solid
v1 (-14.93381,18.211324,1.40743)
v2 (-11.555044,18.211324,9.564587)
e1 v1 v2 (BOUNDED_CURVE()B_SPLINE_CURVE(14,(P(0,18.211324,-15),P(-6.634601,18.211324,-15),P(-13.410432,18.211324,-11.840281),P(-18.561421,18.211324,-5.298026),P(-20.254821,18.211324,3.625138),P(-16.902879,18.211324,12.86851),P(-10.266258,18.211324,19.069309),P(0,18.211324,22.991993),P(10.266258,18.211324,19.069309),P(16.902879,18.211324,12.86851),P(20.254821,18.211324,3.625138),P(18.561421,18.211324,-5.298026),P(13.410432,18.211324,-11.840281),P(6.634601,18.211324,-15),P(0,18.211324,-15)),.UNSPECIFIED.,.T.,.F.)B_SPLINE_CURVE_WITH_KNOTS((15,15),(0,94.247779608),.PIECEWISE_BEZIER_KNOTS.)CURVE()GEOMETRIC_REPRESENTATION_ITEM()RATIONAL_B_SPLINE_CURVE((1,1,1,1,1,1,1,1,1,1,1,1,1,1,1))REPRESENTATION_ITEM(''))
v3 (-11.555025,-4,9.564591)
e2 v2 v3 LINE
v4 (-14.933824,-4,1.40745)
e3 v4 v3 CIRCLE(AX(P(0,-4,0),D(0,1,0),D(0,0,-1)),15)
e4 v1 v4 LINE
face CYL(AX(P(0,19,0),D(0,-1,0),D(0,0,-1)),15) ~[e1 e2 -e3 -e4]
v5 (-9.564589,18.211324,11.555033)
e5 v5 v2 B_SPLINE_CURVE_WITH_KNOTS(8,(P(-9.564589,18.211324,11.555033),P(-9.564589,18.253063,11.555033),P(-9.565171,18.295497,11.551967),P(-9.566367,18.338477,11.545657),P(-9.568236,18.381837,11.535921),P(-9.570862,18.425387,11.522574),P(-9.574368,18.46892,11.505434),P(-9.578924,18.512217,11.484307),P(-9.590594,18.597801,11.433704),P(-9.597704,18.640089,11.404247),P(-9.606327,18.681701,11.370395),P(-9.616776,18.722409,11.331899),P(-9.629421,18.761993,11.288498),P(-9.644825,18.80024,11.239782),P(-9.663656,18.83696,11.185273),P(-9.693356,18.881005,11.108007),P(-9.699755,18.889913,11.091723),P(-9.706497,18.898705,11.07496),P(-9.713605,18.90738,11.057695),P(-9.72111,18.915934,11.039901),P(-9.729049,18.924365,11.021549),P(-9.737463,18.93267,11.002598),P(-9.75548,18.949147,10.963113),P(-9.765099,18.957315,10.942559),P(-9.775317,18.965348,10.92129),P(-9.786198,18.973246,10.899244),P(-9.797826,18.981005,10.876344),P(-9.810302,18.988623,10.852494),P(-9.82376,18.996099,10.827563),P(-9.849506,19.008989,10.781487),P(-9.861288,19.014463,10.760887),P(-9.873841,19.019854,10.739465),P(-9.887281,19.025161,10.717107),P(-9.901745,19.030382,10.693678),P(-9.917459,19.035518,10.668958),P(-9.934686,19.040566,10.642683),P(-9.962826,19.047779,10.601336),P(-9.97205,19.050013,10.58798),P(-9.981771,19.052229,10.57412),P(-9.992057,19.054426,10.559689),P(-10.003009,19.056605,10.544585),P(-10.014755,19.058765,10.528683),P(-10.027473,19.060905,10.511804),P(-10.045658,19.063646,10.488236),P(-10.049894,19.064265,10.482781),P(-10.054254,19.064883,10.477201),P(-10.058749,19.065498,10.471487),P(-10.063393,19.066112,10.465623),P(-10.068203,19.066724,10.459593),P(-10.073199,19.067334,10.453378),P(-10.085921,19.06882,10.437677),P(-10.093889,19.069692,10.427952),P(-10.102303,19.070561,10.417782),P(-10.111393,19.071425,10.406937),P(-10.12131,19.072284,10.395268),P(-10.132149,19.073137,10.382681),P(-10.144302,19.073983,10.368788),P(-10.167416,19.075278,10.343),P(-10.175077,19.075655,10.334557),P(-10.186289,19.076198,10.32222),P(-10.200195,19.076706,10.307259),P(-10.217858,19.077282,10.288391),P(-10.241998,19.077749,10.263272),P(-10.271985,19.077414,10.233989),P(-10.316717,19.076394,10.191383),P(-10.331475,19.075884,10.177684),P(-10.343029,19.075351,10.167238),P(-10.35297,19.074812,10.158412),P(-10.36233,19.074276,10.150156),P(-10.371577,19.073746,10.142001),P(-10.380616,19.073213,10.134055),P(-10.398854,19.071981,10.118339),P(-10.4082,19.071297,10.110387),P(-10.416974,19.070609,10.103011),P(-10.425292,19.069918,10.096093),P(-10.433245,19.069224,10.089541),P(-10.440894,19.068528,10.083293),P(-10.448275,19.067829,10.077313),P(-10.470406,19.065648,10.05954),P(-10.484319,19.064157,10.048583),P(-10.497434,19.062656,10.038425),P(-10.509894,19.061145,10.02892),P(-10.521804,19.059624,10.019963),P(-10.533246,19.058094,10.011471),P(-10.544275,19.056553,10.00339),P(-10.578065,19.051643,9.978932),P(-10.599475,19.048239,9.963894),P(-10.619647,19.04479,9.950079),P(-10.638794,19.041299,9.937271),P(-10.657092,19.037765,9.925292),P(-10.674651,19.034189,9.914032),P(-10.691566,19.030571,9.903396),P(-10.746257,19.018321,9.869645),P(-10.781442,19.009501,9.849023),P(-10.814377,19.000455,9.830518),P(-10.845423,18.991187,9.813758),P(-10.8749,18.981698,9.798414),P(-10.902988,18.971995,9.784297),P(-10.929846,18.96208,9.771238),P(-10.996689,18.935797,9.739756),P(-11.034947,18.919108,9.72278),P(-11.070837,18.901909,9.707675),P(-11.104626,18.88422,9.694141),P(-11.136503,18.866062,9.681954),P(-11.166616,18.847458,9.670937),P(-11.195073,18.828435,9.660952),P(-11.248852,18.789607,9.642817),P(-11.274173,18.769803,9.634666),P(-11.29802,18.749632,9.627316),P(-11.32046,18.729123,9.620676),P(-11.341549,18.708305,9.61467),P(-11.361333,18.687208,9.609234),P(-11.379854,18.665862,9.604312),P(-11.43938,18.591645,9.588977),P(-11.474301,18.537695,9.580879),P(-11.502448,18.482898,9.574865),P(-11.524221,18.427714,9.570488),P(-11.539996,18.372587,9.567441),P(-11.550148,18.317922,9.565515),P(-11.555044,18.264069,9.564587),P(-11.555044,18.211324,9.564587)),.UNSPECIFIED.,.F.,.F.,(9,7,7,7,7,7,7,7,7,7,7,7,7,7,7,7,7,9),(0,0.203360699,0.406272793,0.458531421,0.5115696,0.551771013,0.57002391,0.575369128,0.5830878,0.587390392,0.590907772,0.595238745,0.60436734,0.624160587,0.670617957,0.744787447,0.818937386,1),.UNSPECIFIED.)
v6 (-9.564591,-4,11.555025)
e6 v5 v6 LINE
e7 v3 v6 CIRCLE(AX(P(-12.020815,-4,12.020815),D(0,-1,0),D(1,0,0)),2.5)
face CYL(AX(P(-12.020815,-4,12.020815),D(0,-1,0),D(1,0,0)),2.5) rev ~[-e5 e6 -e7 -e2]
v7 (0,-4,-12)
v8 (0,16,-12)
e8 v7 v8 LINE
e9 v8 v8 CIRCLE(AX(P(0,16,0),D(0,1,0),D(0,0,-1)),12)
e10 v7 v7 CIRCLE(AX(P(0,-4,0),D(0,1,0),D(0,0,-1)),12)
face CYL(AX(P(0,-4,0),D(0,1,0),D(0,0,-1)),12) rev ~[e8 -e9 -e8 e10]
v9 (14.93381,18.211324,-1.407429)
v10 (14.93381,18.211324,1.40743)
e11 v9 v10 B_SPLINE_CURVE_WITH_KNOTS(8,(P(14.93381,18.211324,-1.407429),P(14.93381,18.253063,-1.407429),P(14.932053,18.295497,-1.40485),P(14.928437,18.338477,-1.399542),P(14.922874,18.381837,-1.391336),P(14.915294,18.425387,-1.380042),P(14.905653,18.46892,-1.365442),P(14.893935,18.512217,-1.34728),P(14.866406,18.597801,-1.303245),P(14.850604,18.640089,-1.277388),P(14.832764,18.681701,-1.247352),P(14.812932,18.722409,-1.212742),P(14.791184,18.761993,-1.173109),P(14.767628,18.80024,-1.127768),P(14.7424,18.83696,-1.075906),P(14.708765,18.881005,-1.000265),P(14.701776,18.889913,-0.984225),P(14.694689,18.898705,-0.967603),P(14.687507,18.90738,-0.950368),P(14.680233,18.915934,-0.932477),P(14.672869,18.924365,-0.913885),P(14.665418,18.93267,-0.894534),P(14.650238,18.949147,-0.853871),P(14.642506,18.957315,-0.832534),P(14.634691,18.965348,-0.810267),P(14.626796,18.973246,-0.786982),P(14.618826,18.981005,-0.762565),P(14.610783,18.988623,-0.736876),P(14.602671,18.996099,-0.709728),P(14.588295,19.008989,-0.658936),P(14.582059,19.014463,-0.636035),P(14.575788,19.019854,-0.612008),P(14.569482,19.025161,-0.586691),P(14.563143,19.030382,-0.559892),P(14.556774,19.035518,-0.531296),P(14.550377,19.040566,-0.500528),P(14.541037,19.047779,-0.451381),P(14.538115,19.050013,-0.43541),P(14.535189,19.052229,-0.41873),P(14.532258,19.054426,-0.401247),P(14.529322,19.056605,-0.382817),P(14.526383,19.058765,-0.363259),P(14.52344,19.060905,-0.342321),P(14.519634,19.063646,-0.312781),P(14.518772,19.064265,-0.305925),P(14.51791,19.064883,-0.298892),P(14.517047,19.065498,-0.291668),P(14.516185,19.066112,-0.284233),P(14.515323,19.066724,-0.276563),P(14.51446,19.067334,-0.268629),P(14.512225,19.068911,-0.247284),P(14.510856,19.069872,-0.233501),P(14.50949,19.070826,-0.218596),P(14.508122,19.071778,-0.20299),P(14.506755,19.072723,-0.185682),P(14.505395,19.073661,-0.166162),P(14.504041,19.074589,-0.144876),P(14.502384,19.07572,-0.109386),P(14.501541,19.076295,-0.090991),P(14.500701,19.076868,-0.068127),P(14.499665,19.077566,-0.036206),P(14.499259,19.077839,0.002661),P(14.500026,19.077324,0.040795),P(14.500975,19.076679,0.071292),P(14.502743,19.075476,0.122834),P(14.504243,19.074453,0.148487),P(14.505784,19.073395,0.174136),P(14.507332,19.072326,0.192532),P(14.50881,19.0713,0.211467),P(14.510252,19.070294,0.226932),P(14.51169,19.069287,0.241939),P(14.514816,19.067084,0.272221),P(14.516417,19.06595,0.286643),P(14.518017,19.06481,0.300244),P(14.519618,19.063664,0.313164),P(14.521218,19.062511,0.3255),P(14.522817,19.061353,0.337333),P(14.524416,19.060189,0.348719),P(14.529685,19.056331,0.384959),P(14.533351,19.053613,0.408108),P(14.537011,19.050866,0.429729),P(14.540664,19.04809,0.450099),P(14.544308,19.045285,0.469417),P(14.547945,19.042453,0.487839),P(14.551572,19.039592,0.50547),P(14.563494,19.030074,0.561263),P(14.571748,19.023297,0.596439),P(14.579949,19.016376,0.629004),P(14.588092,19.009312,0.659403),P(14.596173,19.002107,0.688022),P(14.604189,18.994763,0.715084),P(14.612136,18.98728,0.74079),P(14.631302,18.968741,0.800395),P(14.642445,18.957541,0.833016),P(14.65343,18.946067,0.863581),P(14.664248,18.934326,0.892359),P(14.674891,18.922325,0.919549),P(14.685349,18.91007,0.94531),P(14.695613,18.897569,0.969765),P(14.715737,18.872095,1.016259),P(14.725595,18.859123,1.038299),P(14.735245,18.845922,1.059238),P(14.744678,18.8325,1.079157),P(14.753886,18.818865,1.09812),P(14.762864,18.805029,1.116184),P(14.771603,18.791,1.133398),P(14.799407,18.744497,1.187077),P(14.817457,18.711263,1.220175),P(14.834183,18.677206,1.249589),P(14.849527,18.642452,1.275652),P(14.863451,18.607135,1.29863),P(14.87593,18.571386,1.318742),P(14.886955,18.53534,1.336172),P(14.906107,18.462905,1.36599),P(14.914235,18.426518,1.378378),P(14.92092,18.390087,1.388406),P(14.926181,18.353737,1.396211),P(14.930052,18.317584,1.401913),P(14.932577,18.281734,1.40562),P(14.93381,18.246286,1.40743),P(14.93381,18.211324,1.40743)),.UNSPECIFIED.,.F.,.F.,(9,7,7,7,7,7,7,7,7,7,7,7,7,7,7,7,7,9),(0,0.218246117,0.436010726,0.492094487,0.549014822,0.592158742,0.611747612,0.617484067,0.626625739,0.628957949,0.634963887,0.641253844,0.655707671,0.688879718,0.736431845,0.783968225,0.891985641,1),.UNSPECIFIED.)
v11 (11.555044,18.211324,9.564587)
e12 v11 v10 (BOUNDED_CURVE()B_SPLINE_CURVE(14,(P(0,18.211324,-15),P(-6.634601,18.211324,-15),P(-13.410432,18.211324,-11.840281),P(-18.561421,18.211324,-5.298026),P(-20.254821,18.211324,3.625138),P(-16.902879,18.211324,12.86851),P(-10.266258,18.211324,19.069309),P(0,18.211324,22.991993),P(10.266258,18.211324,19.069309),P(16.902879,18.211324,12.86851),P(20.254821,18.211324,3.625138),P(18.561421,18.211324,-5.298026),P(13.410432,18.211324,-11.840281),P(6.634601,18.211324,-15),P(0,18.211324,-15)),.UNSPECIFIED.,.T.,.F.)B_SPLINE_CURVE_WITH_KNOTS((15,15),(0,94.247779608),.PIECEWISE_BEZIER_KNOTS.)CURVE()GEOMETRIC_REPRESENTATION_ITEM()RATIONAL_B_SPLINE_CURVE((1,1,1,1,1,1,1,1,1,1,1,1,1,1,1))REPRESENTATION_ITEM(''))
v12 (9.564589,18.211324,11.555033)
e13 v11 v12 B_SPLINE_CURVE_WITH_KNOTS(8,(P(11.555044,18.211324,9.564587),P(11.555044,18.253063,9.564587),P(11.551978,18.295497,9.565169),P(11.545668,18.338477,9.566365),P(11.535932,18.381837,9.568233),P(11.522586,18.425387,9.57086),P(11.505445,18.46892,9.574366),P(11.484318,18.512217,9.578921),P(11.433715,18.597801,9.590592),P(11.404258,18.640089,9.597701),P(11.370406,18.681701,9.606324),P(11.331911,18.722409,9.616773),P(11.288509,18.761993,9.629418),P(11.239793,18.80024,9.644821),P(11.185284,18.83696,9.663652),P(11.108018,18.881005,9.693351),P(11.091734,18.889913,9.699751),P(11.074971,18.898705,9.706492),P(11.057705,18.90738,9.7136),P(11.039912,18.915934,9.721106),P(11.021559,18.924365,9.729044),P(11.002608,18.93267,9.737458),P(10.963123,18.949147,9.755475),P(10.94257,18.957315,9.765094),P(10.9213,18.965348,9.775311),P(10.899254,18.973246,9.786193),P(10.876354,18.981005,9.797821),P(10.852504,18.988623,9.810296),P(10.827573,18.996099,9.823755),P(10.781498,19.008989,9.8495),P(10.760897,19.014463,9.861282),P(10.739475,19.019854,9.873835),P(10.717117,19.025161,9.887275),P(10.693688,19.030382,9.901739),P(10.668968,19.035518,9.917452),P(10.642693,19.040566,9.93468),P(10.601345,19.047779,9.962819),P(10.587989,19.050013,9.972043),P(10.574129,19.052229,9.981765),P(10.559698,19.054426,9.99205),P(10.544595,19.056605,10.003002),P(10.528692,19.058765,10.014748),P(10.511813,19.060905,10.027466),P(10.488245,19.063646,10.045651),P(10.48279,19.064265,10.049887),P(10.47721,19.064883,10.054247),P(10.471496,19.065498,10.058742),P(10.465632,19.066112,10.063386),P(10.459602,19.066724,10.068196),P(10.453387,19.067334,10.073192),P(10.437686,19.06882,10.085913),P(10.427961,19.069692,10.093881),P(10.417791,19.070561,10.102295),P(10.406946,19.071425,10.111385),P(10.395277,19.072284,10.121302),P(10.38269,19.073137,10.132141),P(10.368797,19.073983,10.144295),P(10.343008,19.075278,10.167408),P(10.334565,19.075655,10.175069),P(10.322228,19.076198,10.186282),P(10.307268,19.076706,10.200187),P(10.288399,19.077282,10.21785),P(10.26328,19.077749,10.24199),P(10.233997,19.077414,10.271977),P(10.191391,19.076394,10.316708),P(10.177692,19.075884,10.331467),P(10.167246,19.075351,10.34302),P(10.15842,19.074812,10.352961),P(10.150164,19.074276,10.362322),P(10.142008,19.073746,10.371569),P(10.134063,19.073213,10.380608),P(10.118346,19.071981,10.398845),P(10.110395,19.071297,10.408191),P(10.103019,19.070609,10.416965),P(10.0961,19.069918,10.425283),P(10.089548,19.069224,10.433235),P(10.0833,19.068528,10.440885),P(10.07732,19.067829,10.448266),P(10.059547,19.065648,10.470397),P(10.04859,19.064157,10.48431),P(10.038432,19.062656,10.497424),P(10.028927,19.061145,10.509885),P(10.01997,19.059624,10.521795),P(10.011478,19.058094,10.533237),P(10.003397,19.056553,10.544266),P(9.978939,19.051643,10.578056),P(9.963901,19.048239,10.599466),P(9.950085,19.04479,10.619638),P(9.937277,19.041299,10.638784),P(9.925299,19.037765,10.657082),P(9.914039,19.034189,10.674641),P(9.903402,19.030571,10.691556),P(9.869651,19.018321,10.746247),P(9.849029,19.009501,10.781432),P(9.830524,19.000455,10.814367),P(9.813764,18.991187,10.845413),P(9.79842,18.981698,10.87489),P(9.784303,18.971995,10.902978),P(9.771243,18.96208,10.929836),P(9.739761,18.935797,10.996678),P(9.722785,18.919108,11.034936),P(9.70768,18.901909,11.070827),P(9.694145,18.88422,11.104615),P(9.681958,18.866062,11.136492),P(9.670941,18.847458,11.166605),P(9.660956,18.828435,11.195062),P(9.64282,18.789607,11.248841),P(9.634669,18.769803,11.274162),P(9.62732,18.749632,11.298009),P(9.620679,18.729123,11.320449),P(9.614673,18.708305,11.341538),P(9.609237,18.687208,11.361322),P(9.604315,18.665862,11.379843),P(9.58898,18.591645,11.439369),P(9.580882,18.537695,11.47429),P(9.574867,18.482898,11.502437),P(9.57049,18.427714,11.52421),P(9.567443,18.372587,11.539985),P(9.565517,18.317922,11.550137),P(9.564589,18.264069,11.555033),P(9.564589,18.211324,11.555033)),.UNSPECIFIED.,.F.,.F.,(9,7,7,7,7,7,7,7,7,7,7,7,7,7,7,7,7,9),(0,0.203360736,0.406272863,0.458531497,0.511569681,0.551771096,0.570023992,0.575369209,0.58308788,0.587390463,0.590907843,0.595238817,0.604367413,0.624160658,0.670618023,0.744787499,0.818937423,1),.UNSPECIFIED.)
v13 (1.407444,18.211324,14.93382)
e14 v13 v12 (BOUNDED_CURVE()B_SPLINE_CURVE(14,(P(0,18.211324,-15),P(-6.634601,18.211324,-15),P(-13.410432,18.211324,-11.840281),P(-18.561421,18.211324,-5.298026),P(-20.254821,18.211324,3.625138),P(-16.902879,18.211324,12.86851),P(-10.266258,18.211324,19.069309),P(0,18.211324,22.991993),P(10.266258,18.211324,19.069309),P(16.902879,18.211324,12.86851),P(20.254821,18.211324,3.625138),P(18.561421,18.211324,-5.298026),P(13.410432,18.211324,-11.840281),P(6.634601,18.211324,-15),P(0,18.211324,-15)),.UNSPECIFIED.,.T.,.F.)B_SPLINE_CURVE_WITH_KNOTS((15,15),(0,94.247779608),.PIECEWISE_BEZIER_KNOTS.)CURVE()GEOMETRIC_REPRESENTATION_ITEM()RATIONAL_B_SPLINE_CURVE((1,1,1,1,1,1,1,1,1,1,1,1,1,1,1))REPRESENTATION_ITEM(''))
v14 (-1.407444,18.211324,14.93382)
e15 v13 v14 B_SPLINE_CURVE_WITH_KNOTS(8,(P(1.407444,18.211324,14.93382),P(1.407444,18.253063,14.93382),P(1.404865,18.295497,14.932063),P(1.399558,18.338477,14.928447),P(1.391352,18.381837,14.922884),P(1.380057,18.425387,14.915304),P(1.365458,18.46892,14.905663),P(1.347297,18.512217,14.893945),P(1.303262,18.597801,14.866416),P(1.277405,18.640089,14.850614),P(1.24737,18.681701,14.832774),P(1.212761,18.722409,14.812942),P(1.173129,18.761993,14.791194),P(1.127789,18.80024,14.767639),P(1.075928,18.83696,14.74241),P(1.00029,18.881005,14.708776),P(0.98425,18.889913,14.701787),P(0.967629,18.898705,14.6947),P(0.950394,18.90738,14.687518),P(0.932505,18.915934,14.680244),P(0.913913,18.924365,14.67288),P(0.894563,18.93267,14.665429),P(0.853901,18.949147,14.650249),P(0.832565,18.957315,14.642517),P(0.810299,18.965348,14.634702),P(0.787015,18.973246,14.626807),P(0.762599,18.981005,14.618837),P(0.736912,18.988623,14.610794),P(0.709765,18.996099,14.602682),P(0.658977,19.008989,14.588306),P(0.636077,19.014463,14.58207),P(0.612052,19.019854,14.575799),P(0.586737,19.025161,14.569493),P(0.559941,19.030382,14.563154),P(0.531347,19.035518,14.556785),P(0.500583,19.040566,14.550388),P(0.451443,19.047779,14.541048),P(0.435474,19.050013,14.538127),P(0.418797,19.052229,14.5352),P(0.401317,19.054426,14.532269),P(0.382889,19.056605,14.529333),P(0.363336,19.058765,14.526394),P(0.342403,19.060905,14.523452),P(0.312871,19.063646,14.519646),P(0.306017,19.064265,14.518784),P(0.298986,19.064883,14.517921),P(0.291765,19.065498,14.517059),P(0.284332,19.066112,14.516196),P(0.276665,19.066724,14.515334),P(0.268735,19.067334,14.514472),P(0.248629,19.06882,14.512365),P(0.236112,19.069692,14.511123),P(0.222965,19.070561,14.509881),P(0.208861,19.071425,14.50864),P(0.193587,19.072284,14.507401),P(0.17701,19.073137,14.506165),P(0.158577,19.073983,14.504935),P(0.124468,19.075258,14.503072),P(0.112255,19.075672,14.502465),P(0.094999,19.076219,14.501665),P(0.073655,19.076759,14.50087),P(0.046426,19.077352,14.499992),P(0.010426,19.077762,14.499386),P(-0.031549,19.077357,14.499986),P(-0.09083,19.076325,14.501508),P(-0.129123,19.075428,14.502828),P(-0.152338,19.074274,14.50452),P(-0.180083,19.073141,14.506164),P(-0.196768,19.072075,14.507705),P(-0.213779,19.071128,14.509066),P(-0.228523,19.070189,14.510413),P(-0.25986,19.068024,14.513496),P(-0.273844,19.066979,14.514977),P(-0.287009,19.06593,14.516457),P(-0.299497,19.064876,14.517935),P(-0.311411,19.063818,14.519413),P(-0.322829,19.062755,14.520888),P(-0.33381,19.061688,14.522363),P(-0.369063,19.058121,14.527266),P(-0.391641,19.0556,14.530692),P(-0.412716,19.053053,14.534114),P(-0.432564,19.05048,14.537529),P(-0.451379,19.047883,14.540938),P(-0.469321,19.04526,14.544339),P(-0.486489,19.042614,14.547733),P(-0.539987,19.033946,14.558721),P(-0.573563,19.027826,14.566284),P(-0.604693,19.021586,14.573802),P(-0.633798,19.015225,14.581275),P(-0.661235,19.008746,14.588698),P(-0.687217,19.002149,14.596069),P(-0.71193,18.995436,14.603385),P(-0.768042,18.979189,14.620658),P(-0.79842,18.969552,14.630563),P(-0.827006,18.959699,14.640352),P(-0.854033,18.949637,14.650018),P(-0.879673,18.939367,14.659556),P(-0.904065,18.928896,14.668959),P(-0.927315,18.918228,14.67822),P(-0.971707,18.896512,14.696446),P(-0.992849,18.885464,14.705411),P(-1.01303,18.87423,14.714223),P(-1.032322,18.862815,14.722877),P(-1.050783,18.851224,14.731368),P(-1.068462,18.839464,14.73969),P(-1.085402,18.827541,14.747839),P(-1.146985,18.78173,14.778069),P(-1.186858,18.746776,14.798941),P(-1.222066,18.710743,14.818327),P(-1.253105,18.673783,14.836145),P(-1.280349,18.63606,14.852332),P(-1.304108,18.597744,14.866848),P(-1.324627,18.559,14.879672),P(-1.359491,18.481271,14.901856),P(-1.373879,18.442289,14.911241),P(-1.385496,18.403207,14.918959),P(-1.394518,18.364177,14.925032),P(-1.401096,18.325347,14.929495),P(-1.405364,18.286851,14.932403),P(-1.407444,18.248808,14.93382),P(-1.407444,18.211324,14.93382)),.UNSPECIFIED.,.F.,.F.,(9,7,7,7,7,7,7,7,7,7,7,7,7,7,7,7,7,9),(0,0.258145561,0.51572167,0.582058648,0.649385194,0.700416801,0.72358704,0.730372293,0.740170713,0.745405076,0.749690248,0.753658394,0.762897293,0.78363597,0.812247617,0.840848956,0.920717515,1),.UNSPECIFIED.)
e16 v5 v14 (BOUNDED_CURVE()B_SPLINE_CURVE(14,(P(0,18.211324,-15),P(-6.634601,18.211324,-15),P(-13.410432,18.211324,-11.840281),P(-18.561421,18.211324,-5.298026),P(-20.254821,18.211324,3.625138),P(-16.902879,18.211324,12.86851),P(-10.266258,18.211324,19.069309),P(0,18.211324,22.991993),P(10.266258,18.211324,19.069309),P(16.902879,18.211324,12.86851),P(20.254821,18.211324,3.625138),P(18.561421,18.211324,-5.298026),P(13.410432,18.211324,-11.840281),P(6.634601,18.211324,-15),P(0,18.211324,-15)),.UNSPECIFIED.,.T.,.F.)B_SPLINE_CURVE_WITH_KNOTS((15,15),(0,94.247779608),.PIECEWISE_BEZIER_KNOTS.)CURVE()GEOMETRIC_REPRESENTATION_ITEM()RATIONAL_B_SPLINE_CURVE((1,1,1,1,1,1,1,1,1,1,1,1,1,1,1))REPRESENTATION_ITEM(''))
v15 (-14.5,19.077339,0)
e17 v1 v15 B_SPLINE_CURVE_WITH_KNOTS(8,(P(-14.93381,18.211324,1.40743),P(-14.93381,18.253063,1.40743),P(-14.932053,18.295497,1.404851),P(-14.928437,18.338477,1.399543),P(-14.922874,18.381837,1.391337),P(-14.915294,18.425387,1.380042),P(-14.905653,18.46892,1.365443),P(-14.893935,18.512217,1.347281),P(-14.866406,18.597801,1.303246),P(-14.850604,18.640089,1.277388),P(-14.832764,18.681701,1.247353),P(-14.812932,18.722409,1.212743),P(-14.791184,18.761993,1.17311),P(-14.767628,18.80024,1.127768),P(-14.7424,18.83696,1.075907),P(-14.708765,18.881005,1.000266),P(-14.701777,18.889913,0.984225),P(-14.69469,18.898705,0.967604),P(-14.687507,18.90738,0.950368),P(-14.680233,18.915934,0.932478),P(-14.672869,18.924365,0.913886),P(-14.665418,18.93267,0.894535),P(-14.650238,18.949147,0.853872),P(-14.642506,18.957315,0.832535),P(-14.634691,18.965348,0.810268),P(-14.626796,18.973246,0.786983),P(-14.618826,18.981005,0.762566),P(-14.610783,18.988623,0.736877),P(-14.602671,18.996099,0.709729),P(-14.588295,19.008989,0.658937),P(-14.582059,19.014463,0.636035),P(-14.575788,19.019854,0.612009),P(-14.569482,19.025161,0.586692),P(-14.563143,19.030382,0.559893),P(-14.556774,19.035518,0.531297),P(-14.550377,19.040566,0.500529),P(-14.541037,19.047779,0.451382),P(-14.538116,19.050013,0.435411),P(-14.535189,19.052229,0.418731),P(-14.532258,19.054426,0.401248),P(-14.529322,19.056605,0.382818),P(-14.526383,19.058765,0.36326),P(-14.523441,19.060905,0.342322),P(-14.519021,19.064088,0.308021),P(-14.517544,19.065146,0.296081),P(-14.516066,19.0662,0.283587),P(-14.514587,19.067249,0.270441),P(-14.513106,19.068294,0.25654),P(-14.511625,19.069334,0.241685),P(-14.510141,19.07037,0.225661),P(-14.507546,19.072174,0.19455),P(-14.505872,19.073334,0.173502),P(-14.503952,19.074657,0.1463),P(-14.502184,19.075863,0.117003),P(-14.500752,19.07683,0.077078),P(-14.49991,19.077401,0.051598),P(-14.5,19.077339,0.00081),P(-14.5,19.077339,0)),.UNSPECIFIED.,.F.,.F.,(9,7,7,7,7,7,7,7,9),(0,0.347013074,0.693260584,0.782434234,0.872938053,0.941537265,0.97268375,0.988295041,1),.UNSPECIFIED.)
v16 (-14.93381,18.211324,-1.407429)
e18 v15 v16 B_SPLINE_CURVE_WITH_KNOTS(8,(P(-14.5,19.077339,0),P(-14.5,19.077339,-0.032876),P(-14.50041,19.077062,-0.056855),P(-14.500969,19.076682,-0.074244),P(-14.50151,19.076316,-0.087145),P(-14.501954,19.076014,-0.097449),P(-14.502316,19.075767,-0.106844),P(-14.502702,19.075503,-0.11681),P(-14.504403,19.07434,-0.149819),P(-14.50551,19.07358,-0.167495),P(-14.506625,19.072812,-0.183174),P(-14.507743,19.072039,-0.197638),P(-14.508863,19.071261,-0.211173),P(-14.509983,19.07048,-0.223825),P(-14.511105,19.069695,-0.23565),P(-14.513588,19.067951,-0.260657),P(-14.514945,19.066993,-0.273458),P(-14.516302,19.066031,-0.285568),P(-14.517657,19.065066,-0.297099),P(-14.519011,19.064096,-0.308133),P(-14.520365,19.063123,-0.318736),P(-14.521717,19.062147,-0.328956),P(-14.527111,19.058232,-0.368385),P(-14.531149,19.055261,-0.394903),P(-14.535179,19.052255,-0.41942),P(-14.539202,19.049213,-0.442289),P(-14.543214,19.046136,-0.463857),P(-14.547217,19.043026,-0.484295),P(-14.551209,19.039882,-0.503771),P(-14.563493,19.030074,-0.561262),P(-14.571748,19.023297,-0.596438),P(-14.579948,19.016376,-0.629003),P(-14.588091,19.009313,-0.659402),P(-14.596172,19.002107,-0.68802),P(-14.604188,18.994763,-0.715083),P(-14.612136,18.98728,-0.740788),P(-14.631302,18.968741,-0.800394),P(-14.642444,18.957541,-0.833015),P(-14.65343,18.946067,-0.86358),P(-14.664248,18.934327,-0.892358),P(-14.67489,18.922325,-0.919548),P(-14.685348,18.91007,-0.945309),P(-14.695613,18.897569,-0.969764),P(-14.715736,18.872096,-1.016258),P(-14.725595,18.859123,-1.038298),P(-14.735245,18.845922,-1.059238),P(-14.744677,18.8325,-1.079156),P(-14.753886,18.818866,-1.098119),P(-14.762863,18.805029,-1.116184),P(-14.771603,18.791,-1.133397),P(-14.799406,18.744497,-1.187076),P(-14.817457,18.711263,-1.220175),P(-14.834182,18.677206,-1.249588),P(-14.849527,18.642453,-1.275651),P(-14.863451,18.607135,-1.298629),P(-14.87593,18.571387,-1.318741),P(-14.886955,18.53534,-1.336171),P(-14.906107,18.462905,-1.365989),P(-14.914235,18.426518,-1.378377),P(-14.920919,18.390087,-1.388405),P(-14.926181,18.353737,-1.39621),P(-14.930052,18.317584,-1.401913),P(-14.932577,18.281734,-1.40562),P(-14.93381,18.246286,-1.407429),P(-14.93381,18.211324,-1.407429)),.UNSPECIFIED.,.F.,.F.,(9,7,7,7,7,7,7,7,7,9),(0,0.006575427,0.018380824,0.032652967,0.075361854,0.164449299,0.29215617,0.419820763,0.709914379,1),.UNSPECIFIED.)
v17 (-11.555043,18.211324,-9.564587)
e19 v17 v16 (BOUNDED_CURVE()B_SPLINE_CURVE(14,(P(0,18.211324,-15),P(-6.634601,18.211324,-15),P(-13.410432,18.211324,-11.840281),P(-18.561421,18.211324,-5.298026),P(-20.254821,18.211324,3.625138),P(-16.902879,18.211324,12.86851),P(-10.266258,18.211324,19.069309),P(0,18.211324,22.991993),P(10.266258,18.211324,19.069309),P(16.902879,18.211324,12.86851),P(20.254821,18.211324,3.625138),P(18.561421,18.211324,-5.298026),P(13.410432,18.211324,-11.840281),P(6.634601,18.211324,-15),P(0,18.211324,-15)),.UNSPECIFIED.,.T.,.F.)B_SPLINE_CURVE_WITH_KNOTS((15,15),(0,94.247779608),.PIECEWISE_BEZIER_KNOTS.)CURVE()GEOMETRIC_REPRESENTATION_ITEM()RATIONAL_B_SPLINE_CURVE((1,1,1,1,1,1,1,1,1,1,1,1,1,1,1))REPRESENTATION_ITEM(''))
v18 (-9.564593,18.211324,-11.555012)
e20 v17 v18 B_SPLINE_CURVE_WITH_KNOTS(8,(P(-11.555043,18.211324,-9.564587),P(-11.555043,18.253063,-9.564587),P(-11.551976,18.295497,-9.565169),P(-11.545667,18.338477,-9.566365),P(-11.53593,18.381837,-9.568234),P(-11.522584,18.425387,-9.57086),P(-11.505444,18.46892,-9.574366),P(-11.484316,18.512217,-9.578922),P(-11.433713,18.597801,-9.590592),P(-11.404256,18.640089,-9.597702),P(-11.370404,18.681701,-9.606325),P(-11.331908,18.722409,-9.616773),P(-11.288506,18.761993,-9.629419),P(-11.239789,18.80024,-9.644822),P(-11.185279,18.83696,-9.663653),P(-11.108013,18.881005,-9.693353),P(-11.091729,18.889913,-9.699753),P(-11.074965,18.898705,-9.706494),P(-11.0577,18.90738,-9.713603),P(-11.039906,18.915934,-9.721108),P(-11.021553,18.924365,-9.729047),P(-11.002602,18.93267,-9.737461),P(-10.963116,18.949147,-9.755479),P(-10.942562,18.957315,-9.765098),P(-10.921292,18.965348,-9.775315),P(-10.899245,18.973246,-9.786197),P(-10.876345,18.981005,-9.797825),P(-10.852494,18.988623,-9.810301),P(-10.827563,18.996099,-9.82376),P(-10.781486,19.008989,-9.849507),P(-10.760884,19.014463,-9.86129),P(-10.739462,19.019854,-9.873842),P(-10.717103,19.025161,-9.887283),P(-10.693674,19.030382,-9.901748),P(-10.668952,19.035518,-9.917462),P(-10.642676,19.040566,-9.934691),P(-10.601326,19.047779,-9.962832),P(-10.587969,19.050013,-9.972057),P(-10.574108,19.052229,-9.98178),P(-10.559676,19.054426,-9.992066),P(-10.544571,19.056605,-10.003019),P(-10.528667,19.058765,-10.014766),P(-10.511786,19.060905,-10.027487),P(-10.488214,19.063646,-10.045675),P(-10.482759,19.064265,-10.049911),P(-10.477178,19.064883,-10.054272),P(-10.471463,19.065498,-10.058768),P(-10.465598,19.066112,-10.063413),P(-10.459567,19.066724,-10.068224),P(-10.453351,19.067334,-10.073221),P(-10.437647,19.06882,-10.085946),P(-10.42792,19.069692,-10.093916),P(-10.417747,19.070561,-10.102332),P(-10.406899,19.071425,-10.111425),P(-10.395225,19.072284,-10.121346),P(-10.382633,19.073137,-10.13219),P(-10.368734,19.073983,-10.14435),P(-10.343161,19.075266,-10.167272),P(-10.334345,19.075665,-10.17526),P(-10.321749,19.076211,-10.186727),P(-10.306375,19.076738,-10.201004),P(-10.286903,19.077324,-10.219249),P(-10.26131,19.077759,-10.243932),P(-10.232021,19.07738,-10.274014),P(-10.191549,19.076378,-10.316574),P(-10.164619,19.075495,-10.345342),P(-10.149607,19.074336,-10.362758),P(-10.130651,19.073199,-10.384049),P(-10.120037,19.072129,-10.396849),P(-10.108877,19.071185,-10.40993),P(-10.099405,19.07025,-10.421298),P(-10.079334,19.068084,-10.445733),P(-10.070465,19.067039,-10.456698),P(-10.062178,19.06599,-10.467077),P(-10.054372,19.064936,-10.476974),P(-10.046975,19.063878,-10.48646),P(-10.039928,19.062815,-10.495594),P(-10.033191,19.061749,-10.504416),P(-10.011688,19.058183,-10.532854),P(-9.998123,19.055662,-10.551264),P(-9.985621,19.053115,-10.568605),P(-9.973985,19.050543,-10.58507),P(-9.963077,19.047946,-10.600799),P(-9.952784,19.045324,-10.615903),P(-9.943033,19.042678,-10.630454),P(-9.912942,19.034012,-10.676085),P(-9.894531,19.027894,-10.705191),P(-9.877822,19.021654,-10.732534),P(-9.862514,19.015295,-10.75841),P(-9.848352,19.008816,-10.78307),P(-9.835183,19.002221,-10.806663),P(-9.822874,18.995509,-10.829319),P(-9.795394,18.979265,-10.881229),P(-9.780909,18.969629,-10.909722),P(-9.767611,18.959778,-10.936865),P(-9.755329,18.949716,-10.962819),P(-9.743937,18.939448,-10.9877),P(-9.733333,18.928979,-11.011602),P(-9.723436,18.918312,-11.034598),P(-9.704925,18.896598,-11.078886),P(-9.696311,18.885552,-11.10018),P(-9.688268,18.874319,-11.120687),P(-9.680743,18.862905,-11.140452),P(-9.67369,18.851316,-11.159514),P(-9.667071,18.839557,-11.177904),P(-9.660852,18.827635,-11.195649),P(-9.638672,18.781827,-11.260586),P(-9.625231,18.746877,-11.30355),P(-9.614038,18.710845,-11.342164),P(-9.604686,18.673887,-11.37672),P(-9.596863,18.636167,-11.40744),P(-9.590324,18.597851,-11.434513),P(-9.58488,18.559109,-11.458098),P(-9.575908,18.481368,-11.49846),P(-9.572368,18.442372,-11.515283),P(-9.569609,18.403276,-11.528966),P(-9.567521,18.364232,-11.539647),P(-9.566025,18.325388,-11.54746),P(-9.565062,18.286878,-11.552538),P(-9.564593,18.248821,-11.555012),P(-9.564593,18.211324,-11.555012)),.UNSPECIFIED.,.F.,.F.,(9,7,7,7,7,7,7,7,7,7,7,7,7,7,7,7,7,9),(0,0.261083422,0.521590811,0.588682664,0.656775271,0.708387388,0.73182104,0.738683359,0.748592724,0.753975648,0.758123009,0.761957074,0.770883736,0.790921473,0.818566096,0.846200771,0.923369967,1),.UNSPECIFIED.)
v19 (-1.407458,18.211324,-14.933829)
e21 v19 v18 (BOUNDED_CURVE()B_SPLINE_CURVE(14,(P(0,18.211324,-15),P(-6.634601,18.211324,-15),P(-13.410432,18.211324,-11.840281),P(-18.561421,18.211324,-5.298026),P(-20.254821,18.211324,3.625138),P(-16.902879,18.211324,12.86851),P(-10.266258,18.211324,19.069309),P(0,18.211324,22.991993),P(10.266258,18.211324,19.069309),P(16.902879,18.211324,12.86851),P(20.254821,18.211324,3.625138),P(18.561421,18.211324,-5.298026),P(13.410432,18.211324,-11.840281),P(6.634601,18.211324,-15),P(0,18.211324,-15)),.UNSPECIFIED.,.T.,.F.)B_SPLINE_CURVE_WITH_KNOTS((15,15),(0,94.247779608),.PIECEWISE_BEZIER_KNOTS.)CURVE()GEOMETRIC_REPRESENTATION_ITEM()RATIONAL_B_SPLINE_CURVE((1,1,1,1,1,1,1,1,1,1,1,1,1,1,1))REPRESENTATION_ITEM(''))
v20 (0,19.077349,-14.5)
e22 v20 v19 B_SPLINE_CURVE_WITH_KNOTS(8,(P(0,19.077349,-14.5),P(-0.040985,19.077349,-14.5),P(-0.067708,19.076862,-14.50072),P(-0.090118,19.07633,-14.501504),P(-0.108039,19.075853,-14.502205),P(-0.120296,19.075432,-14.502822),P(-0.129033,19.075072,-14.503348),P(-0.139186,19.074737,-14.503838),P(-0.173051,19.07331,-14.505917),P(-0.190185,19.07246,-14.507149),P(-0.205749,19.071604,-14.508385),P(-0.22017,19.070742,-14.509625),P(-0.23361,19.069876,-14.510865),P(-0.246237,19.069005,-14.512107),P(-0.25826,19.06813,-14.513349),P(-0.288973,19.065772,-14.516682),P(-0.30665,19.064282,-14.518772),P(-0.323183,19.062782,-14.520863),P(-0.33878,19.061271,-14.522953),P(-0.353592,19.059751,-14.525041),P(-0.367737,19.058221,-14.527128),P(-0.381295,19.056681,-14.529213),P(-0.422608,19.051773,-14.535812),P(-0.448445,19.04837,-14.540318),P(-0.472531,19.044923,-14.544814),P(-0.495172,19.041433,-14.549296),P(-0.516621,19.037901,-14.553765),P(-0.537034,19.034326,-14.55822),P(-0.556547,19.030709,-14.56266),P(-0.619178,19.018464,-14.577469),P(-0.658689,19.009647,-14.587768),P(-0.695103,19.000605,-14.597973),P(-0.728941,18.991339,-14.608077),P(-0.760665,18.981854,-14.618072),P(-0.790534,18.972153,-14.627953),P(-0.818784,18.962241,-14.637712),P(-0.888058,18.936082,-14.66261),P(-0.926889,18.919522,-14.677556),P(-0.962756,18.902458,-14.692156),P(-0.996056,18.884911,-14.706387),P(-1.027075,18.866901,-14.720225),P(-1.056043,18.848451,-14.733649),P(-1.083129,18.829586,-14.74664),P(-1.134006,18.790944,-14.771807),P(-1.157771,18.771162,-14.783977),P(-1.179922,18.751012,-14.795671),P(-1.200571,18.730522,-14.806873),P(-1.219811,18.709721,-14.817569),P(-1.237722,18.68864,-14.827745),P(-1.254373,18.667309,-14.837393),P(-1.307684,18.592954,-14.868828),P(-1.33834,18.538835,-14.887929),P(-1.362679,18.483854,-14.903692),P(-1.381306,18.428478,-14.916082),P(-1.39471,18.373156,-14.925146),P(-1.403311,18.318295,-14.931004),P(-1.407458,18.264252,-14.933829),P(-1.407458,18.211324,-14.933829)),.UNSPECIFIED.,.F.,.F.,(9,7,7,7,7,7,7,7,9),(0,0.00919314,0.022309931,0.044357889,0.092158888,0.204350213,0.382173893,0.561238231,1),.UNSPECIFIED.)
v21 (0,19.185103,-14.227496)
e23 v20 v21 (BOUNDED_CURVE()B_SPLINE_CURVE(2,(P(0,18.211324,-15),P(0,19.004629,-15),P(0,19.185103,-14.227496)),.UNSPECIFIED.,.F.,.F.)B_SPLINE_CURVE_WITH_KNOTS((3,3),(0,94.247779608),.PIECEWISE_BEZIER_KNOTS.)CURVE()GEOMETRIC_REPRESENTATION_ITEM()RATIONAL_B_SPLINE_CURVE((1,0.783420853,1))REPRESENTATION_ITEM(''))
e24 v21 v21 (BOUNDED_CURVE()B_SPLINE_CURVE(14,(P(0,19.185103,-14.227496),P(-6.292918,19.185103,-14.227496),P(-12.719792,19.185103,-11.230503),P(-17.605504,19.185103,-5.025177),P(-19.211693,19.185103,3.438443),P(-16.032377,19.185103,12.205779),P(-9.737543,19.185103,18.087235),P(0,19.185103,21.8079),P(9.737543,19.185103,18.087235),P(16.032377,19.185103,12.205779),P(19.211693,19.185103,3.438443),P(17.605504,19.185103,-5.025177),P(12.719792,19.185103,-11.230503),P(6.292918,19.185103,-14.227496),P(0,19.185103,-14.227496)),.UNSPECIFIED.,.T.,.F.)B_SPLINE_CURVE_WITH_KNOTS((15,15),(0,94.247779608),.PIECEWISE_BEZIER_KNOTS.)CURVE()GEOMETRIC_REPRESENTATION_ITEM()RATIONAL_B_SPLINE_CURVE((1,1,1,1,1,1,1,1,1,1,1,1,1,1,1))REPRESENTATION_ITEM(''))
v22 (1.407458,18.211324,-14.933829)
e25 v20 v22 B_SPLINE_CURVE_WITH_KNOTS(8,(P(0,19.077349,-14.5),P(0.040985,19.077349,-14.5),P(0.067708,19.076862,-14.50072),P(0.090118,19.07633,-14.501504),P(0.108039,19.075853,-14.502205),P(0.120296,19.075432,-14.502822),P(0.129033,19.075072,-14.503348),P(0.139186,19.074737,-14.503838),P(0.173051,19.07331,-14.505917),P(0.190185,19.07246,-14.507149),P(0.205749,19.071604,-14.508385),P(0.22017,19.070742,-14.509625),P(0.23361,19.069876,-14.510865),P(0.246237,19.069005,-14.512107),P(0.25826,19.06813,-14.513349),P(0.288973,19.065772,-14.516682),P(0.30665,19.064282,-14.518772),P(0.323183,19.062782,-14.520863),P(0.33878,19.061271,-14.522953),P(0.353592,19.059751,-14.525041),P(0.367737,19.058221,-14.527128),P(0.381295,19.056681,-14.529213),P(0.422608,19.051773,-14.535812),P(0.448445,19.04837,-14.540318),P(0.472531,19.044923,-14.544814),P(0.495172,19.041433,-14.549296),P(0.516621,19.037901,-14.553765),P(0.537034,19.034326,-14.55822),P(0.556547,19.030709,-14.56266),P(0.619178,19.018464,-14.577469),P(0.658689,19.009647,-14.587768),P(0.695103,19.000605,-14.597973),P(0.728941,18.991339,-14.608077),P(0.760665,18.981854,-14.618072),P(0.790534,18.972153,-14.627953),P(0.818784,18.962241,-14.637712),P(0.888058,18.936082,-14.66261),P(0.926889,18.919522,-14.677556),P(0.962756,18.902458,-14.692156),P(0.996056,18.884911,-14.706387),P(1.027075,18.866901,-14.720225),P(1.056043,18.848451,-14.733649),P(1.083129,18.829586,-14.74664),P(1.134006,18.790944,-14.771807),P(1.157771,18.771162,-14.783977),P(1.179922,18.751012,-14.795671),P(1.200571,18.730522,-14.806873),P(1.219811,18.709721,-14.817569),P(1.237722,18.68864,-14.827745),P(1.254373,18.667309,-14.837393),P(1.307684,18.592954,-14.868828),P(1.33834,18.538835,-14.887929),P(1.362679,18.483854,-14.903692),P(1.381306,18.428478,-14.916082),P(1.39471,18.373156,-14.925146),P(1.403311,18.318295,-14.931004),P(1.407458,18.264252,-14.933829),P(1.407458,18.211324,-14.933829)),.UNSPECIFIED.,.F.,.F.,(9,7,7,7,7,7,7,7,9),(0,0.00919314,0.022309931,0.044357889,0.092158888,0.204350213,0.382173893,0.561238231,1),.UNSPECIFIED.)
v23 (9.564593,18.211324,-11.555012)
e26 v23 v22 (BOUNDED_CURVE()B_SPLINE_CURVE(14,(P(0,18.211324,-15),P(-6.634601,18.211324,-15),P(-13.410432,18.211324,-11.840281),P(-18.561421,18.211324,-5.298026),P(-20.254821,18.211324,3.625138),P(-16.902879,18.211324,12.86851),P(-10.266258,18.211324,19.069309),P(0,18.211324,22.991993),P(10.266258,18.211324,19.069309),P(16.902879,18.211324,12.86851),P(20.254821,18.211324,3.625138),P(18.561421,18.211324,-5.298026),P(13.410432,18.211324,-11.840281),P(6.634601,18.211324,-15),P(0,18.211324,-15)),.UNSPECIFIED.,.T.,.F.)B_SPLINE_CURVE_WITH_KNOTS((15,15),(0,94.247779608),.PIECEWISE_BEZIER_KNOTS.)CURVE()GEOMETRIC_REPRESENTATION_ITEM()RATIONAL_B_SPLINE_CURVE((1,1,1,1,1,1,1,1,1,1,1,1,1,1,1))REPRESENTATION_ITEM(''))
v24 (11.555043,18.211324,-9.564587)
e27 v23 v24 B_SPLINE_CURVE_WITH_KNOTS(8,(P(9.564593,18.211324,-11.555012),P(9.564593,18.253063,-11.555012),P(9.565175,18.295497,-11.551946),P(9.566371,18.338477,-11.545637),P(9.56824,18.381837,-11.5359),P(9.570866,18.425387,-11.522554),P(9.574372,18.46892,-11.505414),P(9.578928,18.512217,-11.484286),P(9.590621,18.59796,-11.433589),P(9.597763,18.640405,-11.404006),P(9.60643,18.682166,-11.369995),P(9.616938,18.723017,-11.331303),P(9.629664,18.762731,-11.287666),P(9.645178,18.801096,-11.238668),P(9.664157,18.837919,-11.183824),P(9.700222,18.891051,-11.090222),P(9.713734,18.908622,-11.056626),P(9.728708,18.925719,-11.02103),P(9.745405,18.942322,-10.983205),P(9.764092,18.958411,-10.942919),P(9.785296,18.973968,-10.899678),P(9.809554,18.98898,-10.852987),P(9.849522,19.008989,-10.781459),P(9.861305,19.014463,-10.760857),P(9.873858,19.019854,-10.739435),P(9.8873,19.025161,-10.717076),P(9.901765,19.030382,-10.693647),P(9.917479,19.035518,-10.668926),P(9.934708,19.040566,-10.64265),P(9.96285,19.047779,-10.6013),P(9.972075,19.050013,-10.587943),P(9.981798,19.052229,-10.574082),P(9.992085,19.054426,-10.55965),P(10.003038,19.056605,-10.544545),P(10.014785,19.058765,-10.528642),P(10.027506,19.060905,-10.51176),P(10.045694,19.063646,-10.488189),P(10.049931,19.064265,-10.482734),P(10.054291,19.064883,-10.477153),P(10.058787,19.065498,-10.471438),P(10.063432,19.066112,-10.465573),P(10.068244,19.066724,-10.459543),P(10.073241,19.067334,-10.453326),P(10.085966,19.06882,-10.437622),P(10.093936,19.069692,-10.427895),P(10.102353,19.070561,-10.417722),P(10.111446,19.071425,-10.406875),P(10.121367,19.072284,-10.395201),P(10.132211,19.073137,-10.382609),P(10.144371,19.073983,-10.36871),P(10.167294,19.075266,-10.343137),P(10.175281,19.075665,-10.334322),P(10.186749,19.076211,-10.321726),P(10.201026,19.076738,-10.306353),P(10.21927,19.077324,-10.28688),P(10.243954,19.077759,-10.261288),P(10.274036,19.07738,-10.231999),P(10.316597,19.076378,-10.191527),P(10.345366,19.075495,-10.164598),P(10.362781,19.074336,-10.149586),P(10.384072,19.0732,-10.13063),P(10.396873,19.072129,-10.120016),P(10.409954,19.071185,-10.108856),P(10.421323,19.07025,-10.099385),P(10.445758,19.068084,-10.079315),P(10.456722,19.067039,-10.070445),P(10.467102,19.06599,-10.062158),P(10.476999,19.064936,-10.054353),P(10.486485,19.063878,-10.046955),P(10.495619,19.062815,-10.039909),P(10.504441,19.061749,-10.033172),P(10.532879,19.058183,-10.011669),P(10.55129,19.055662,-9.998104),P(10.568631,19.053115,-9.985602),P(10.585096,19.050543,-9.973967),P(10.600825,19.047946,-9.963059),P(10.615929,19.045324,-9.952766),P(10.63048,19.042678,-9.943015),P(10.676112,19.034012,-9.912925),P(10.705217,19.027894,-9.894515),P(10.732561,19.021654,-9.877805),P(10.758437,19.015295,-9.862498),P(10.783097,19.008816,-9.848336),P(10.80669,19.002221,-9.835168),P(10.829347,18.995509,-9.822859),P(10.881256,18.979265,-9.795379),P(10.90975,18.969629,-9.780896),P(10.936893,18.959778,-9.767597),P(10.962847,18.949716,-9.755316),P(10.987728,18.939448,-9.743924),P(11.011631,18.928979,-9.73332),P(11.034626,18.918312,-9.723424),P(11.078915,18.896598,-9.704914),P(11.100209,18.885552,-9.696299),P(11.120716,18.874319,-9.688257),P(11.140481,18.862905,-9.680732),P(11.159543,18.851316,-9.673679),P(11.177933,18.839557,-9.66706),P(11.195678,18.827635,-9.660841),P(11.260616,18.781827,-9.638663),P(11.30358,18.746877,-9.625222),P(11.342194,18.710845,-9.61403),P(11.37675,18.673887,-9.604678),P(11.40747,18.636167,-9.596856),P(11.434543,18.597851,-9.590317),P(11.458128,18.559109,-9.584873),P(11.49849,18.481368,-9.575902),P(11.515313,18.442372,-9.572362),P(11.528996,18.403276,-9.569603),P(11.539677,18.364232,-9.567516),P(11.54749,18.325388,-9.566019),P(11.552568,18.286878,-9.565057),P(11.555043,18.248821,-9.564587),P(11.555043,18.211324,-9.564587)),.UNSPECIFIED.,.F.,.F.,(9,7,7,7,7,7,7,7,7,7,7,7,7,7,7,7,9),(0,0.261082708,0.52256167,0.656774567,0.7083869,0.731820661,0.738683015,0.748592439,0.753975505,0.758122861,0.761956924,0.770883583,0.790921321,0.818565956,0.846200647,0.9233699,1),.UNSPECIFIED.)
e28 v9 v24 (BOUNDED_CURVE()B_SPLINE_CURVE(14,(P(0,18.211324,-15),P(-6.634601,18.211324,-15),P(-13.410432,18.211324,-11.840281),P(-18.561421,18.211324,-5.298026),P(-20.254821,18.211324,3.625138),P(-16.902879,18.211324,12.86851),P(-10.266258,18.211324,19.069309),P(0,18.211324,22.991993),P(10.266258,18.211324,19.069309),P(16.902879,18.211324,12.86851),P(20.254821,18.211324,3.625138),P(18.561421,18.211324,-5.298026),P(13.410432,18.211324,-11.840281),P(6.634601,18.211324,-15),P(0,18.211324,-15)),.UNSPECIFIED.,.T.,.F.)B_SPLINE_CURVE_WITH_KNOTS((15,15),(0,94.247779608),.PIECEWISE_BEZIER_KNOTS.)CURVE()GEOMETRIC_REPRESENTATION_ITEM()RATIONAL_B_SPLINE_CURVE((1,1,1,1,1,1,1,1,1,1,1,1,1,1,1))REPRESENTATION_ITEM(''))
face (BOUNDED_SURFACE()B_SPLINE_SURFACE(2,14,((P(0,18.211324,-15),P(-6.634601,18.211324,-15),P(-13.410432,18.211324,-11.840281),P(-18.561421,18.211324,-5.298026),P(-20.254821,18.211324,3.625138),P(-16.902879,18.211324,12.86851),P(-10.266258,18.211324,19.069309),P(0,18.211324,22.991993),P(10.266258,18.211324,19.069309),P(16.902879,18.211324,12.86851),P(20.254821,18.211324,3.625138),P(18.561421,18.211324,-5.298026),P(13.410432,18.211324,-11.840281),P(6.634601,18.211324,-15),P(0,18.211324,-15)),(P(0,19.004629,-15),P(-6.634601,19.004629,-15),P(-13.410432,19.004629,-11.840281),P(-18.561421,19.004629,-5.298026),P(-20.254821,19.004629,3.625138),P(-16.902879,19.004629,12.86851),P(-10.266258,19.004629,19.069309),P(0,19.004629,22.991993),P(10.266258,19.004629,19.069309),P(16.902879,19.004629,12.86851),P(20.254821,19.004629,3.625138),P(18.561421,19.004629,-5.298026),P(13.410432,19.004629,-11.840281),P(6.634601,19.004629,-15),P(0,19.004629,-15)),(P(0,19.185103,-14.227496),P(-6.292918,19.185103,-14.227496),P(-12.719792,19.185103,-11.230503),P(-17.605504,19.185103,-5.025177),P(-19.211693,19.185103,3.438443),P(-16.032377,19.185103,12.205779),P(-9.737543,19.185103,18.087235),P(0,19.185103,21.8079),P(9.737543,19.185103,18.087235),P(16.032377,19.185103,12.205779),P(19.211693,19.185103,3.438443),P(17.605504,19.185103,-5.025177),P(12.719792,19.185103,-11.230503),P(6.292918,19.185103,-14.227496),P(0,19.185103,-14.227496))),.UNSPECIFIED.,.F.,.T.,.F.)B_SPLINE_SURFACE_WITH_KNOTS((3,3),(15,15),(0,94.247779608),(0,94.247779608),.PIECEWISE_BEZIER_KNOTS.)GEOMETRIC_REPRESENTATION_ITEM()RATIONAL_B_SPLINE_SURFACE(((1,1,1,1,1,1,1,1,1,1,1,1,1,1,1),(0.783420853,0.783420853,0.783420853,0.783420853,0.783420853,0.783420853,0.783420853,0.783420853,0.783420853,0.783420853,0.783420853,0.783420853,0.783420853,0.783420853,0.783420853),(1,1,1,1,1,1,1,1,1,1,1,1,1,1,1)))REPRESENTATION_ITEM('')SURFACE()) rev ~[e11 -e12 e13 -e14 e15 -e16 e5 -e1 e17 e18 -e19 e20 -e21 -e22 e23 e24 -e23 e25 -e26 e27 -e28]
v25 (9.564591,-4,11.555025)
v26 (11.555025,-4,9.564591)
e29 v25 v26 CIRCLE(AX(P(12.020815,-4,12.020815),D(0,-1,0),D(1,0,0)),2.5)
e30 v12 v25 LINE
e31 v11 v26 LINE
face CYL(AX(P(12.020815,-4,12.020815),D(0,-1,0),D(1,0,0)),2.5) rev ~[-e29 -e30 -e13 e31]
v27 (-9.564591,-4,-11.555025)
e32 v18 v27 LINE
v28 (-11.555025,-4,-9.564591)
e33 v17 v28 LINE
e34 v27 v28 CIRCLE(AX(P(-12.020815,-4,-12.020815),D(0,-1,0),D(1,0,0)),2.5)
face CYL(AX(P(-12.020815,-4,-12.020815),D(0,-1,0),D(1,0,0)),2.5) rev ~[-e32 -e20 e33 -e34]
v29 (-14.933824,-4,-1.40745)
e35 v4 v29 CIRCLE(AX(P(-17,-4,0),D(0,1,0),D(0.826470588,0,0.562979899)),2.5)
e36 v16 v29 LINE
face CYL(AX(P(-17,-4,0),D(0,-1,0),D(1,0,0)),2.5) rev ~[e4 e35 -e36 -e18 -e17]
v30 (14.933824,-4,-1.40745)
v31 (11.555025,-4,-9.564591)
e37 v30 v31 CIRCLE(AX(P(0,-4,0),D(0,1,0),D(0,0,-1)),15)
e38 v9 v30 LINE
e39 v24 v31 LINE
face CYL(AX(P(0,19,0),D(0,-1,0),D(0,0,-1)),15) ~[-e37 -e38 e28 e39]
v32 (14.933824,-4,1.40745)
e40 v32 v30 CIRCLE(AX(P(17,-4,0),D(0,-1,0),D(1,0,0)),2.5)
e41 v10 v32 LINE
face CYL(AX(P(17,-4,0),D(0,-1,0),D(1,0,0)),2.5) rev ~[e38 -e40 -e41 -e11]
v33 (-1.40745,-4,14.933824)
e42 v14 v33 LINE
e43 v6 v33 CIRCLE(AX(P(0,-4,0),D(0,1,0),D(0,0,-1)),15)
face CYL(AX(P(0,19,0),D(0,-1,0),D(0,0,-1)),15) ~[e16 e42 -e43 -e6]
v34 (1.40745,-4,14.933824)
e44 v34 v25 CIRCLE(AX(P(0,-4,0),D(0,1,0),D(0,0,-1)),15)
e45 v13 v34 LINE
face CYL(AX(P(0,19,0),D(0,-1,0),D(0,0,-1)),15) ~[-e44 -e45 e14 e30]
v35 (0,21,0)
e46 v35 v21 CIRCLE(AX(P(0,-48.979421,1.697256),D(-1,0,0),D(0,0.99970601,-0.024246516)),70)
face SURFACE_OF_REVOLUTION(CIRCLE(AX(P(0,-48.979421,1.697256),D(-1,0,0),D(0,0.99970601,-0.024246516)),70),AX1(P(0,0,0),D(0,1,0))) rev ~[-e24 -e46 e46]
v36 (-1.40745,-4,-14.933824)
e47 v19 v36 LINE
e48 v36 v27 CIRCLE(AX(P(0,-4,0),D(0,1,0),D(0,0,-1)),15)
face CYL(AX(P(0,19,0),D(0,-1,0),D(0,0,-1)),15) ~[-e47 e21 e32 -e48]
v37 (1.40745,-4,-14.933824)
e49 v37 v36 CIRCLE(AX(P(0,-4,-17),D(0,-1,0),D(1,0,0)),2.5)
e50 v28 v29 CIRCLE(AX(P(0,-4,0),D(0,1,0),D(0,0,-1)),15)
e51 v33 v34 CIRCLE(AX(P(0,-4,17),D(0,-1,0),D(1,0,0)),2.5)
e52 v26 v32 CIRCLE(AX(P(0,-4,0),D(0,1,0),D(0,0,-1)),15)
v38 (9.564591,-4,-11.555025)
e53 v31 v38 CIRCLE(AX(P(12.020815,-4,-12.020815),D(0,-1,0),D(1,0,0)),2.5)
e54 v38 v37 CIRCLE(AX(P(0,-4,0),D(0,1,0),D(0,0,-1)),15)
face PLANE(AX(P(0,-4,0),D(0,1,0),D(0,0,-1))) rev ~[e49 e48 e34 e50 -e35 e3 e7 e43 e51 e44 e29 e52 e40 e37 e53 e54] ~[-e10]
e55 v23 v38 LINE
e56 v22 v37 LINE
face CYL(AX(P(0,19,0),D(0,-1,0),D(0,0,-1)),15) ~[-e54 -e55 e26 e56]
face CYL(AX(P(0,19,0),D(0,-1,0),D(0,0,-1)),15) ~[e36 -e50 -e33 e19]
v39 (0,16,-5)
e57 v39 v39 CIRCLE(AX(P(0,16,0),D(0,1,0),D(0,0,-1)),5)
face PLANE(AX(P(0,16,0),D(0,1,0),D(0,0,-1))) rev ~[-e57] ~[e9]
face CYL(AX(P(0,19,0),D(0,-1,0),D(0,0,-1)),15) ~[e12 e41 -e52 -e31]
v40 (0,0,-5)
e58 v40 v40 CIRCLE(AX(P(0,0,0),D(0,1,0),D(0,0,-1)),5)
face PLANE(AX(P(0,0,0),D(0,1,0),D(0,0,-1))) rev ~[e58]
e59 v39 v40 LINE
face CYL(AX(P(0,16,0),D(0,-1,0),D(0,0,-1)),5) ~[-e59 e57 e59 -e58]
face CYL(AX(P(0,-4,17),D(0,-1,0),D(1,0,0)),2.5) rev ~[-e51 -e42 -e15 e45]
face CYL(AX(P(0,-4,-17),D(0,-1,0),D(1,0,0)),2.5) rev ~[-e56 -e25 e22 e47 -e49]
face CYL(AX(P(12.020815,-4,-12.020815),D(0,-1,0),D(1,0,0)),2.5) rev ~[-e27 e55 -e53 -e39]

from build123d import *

# Parameters (mm, degrees)
FILLET1_R          = 1
SKETCH2_R          = 2.5
CUT_EXTRUDE1_DEPTH = 33.787192789


with BuildPart() as part:
    # Sketch1 → Revolve1 (revolve)
    with BuildSketch(Plane.XY, mode=Mode.PRIVATE) as revolve1_sk:
        with BuildLine():
            Line((-15, 19), (-15, -4))
            Line((-15, -4), (-12, -4))
            Line((-12, -4), (-12, 16))
            Line((-12, 16), (-5, 16))
            Line((-5, 16), (-5, 0))
            Line((-5, 0), (0, 0))
            Line((0, 0), (0, 21))
            ThreePointArc((0, 21), (-7.554204313, 20.406532346), (-15, 19))
        make_face()
    revolve(revolve1_sk.sketch.rotate(Axis((0, 0, 0), (0, 1, 0)), 270), axis=Axis((0, 0, 0), (0, 1, 0)))

    # Fillet1
    fillet1_edges = [part.edges().sort_by_distance(p)[0] for p in [
        (0, 19, 15),
    ]]
    fillet(fillet1_edges, radius=FILLET1_R)

    # Sketch2 → Cut-Extrude1 (cut, through all)
    with BuildSketch(Plane.XZ.offset(4)):
        with Locations((-17, 0)):
            Circle(SKETCH2_R)
        with Locations((-12.02081528, 12.02081528)):
            Circle(SKETCH2_R)
        with Locations((0, 17)):
            Circle(SKETCH2_R)
        with Locations((12.02081528, 12.02081528)):
            Circle(SKETCH2_R)
        with Locations((17, 0)):
            Circle(SKETCH2_R)
        with Locations((12.02081528, -12.02081528)):
            Circle(SKETCH2_R)
        with Locations((0, -17)):
            Circle(SKETCH2_R)
        with Locations((-12.02081528, -12.02081528)):
            Circle(SKETCH2_R)
    extrude(amount=-CUT_EXTRUDE1_DEPTH, mode=Mode.SUBTRACT)


solid = part.part
